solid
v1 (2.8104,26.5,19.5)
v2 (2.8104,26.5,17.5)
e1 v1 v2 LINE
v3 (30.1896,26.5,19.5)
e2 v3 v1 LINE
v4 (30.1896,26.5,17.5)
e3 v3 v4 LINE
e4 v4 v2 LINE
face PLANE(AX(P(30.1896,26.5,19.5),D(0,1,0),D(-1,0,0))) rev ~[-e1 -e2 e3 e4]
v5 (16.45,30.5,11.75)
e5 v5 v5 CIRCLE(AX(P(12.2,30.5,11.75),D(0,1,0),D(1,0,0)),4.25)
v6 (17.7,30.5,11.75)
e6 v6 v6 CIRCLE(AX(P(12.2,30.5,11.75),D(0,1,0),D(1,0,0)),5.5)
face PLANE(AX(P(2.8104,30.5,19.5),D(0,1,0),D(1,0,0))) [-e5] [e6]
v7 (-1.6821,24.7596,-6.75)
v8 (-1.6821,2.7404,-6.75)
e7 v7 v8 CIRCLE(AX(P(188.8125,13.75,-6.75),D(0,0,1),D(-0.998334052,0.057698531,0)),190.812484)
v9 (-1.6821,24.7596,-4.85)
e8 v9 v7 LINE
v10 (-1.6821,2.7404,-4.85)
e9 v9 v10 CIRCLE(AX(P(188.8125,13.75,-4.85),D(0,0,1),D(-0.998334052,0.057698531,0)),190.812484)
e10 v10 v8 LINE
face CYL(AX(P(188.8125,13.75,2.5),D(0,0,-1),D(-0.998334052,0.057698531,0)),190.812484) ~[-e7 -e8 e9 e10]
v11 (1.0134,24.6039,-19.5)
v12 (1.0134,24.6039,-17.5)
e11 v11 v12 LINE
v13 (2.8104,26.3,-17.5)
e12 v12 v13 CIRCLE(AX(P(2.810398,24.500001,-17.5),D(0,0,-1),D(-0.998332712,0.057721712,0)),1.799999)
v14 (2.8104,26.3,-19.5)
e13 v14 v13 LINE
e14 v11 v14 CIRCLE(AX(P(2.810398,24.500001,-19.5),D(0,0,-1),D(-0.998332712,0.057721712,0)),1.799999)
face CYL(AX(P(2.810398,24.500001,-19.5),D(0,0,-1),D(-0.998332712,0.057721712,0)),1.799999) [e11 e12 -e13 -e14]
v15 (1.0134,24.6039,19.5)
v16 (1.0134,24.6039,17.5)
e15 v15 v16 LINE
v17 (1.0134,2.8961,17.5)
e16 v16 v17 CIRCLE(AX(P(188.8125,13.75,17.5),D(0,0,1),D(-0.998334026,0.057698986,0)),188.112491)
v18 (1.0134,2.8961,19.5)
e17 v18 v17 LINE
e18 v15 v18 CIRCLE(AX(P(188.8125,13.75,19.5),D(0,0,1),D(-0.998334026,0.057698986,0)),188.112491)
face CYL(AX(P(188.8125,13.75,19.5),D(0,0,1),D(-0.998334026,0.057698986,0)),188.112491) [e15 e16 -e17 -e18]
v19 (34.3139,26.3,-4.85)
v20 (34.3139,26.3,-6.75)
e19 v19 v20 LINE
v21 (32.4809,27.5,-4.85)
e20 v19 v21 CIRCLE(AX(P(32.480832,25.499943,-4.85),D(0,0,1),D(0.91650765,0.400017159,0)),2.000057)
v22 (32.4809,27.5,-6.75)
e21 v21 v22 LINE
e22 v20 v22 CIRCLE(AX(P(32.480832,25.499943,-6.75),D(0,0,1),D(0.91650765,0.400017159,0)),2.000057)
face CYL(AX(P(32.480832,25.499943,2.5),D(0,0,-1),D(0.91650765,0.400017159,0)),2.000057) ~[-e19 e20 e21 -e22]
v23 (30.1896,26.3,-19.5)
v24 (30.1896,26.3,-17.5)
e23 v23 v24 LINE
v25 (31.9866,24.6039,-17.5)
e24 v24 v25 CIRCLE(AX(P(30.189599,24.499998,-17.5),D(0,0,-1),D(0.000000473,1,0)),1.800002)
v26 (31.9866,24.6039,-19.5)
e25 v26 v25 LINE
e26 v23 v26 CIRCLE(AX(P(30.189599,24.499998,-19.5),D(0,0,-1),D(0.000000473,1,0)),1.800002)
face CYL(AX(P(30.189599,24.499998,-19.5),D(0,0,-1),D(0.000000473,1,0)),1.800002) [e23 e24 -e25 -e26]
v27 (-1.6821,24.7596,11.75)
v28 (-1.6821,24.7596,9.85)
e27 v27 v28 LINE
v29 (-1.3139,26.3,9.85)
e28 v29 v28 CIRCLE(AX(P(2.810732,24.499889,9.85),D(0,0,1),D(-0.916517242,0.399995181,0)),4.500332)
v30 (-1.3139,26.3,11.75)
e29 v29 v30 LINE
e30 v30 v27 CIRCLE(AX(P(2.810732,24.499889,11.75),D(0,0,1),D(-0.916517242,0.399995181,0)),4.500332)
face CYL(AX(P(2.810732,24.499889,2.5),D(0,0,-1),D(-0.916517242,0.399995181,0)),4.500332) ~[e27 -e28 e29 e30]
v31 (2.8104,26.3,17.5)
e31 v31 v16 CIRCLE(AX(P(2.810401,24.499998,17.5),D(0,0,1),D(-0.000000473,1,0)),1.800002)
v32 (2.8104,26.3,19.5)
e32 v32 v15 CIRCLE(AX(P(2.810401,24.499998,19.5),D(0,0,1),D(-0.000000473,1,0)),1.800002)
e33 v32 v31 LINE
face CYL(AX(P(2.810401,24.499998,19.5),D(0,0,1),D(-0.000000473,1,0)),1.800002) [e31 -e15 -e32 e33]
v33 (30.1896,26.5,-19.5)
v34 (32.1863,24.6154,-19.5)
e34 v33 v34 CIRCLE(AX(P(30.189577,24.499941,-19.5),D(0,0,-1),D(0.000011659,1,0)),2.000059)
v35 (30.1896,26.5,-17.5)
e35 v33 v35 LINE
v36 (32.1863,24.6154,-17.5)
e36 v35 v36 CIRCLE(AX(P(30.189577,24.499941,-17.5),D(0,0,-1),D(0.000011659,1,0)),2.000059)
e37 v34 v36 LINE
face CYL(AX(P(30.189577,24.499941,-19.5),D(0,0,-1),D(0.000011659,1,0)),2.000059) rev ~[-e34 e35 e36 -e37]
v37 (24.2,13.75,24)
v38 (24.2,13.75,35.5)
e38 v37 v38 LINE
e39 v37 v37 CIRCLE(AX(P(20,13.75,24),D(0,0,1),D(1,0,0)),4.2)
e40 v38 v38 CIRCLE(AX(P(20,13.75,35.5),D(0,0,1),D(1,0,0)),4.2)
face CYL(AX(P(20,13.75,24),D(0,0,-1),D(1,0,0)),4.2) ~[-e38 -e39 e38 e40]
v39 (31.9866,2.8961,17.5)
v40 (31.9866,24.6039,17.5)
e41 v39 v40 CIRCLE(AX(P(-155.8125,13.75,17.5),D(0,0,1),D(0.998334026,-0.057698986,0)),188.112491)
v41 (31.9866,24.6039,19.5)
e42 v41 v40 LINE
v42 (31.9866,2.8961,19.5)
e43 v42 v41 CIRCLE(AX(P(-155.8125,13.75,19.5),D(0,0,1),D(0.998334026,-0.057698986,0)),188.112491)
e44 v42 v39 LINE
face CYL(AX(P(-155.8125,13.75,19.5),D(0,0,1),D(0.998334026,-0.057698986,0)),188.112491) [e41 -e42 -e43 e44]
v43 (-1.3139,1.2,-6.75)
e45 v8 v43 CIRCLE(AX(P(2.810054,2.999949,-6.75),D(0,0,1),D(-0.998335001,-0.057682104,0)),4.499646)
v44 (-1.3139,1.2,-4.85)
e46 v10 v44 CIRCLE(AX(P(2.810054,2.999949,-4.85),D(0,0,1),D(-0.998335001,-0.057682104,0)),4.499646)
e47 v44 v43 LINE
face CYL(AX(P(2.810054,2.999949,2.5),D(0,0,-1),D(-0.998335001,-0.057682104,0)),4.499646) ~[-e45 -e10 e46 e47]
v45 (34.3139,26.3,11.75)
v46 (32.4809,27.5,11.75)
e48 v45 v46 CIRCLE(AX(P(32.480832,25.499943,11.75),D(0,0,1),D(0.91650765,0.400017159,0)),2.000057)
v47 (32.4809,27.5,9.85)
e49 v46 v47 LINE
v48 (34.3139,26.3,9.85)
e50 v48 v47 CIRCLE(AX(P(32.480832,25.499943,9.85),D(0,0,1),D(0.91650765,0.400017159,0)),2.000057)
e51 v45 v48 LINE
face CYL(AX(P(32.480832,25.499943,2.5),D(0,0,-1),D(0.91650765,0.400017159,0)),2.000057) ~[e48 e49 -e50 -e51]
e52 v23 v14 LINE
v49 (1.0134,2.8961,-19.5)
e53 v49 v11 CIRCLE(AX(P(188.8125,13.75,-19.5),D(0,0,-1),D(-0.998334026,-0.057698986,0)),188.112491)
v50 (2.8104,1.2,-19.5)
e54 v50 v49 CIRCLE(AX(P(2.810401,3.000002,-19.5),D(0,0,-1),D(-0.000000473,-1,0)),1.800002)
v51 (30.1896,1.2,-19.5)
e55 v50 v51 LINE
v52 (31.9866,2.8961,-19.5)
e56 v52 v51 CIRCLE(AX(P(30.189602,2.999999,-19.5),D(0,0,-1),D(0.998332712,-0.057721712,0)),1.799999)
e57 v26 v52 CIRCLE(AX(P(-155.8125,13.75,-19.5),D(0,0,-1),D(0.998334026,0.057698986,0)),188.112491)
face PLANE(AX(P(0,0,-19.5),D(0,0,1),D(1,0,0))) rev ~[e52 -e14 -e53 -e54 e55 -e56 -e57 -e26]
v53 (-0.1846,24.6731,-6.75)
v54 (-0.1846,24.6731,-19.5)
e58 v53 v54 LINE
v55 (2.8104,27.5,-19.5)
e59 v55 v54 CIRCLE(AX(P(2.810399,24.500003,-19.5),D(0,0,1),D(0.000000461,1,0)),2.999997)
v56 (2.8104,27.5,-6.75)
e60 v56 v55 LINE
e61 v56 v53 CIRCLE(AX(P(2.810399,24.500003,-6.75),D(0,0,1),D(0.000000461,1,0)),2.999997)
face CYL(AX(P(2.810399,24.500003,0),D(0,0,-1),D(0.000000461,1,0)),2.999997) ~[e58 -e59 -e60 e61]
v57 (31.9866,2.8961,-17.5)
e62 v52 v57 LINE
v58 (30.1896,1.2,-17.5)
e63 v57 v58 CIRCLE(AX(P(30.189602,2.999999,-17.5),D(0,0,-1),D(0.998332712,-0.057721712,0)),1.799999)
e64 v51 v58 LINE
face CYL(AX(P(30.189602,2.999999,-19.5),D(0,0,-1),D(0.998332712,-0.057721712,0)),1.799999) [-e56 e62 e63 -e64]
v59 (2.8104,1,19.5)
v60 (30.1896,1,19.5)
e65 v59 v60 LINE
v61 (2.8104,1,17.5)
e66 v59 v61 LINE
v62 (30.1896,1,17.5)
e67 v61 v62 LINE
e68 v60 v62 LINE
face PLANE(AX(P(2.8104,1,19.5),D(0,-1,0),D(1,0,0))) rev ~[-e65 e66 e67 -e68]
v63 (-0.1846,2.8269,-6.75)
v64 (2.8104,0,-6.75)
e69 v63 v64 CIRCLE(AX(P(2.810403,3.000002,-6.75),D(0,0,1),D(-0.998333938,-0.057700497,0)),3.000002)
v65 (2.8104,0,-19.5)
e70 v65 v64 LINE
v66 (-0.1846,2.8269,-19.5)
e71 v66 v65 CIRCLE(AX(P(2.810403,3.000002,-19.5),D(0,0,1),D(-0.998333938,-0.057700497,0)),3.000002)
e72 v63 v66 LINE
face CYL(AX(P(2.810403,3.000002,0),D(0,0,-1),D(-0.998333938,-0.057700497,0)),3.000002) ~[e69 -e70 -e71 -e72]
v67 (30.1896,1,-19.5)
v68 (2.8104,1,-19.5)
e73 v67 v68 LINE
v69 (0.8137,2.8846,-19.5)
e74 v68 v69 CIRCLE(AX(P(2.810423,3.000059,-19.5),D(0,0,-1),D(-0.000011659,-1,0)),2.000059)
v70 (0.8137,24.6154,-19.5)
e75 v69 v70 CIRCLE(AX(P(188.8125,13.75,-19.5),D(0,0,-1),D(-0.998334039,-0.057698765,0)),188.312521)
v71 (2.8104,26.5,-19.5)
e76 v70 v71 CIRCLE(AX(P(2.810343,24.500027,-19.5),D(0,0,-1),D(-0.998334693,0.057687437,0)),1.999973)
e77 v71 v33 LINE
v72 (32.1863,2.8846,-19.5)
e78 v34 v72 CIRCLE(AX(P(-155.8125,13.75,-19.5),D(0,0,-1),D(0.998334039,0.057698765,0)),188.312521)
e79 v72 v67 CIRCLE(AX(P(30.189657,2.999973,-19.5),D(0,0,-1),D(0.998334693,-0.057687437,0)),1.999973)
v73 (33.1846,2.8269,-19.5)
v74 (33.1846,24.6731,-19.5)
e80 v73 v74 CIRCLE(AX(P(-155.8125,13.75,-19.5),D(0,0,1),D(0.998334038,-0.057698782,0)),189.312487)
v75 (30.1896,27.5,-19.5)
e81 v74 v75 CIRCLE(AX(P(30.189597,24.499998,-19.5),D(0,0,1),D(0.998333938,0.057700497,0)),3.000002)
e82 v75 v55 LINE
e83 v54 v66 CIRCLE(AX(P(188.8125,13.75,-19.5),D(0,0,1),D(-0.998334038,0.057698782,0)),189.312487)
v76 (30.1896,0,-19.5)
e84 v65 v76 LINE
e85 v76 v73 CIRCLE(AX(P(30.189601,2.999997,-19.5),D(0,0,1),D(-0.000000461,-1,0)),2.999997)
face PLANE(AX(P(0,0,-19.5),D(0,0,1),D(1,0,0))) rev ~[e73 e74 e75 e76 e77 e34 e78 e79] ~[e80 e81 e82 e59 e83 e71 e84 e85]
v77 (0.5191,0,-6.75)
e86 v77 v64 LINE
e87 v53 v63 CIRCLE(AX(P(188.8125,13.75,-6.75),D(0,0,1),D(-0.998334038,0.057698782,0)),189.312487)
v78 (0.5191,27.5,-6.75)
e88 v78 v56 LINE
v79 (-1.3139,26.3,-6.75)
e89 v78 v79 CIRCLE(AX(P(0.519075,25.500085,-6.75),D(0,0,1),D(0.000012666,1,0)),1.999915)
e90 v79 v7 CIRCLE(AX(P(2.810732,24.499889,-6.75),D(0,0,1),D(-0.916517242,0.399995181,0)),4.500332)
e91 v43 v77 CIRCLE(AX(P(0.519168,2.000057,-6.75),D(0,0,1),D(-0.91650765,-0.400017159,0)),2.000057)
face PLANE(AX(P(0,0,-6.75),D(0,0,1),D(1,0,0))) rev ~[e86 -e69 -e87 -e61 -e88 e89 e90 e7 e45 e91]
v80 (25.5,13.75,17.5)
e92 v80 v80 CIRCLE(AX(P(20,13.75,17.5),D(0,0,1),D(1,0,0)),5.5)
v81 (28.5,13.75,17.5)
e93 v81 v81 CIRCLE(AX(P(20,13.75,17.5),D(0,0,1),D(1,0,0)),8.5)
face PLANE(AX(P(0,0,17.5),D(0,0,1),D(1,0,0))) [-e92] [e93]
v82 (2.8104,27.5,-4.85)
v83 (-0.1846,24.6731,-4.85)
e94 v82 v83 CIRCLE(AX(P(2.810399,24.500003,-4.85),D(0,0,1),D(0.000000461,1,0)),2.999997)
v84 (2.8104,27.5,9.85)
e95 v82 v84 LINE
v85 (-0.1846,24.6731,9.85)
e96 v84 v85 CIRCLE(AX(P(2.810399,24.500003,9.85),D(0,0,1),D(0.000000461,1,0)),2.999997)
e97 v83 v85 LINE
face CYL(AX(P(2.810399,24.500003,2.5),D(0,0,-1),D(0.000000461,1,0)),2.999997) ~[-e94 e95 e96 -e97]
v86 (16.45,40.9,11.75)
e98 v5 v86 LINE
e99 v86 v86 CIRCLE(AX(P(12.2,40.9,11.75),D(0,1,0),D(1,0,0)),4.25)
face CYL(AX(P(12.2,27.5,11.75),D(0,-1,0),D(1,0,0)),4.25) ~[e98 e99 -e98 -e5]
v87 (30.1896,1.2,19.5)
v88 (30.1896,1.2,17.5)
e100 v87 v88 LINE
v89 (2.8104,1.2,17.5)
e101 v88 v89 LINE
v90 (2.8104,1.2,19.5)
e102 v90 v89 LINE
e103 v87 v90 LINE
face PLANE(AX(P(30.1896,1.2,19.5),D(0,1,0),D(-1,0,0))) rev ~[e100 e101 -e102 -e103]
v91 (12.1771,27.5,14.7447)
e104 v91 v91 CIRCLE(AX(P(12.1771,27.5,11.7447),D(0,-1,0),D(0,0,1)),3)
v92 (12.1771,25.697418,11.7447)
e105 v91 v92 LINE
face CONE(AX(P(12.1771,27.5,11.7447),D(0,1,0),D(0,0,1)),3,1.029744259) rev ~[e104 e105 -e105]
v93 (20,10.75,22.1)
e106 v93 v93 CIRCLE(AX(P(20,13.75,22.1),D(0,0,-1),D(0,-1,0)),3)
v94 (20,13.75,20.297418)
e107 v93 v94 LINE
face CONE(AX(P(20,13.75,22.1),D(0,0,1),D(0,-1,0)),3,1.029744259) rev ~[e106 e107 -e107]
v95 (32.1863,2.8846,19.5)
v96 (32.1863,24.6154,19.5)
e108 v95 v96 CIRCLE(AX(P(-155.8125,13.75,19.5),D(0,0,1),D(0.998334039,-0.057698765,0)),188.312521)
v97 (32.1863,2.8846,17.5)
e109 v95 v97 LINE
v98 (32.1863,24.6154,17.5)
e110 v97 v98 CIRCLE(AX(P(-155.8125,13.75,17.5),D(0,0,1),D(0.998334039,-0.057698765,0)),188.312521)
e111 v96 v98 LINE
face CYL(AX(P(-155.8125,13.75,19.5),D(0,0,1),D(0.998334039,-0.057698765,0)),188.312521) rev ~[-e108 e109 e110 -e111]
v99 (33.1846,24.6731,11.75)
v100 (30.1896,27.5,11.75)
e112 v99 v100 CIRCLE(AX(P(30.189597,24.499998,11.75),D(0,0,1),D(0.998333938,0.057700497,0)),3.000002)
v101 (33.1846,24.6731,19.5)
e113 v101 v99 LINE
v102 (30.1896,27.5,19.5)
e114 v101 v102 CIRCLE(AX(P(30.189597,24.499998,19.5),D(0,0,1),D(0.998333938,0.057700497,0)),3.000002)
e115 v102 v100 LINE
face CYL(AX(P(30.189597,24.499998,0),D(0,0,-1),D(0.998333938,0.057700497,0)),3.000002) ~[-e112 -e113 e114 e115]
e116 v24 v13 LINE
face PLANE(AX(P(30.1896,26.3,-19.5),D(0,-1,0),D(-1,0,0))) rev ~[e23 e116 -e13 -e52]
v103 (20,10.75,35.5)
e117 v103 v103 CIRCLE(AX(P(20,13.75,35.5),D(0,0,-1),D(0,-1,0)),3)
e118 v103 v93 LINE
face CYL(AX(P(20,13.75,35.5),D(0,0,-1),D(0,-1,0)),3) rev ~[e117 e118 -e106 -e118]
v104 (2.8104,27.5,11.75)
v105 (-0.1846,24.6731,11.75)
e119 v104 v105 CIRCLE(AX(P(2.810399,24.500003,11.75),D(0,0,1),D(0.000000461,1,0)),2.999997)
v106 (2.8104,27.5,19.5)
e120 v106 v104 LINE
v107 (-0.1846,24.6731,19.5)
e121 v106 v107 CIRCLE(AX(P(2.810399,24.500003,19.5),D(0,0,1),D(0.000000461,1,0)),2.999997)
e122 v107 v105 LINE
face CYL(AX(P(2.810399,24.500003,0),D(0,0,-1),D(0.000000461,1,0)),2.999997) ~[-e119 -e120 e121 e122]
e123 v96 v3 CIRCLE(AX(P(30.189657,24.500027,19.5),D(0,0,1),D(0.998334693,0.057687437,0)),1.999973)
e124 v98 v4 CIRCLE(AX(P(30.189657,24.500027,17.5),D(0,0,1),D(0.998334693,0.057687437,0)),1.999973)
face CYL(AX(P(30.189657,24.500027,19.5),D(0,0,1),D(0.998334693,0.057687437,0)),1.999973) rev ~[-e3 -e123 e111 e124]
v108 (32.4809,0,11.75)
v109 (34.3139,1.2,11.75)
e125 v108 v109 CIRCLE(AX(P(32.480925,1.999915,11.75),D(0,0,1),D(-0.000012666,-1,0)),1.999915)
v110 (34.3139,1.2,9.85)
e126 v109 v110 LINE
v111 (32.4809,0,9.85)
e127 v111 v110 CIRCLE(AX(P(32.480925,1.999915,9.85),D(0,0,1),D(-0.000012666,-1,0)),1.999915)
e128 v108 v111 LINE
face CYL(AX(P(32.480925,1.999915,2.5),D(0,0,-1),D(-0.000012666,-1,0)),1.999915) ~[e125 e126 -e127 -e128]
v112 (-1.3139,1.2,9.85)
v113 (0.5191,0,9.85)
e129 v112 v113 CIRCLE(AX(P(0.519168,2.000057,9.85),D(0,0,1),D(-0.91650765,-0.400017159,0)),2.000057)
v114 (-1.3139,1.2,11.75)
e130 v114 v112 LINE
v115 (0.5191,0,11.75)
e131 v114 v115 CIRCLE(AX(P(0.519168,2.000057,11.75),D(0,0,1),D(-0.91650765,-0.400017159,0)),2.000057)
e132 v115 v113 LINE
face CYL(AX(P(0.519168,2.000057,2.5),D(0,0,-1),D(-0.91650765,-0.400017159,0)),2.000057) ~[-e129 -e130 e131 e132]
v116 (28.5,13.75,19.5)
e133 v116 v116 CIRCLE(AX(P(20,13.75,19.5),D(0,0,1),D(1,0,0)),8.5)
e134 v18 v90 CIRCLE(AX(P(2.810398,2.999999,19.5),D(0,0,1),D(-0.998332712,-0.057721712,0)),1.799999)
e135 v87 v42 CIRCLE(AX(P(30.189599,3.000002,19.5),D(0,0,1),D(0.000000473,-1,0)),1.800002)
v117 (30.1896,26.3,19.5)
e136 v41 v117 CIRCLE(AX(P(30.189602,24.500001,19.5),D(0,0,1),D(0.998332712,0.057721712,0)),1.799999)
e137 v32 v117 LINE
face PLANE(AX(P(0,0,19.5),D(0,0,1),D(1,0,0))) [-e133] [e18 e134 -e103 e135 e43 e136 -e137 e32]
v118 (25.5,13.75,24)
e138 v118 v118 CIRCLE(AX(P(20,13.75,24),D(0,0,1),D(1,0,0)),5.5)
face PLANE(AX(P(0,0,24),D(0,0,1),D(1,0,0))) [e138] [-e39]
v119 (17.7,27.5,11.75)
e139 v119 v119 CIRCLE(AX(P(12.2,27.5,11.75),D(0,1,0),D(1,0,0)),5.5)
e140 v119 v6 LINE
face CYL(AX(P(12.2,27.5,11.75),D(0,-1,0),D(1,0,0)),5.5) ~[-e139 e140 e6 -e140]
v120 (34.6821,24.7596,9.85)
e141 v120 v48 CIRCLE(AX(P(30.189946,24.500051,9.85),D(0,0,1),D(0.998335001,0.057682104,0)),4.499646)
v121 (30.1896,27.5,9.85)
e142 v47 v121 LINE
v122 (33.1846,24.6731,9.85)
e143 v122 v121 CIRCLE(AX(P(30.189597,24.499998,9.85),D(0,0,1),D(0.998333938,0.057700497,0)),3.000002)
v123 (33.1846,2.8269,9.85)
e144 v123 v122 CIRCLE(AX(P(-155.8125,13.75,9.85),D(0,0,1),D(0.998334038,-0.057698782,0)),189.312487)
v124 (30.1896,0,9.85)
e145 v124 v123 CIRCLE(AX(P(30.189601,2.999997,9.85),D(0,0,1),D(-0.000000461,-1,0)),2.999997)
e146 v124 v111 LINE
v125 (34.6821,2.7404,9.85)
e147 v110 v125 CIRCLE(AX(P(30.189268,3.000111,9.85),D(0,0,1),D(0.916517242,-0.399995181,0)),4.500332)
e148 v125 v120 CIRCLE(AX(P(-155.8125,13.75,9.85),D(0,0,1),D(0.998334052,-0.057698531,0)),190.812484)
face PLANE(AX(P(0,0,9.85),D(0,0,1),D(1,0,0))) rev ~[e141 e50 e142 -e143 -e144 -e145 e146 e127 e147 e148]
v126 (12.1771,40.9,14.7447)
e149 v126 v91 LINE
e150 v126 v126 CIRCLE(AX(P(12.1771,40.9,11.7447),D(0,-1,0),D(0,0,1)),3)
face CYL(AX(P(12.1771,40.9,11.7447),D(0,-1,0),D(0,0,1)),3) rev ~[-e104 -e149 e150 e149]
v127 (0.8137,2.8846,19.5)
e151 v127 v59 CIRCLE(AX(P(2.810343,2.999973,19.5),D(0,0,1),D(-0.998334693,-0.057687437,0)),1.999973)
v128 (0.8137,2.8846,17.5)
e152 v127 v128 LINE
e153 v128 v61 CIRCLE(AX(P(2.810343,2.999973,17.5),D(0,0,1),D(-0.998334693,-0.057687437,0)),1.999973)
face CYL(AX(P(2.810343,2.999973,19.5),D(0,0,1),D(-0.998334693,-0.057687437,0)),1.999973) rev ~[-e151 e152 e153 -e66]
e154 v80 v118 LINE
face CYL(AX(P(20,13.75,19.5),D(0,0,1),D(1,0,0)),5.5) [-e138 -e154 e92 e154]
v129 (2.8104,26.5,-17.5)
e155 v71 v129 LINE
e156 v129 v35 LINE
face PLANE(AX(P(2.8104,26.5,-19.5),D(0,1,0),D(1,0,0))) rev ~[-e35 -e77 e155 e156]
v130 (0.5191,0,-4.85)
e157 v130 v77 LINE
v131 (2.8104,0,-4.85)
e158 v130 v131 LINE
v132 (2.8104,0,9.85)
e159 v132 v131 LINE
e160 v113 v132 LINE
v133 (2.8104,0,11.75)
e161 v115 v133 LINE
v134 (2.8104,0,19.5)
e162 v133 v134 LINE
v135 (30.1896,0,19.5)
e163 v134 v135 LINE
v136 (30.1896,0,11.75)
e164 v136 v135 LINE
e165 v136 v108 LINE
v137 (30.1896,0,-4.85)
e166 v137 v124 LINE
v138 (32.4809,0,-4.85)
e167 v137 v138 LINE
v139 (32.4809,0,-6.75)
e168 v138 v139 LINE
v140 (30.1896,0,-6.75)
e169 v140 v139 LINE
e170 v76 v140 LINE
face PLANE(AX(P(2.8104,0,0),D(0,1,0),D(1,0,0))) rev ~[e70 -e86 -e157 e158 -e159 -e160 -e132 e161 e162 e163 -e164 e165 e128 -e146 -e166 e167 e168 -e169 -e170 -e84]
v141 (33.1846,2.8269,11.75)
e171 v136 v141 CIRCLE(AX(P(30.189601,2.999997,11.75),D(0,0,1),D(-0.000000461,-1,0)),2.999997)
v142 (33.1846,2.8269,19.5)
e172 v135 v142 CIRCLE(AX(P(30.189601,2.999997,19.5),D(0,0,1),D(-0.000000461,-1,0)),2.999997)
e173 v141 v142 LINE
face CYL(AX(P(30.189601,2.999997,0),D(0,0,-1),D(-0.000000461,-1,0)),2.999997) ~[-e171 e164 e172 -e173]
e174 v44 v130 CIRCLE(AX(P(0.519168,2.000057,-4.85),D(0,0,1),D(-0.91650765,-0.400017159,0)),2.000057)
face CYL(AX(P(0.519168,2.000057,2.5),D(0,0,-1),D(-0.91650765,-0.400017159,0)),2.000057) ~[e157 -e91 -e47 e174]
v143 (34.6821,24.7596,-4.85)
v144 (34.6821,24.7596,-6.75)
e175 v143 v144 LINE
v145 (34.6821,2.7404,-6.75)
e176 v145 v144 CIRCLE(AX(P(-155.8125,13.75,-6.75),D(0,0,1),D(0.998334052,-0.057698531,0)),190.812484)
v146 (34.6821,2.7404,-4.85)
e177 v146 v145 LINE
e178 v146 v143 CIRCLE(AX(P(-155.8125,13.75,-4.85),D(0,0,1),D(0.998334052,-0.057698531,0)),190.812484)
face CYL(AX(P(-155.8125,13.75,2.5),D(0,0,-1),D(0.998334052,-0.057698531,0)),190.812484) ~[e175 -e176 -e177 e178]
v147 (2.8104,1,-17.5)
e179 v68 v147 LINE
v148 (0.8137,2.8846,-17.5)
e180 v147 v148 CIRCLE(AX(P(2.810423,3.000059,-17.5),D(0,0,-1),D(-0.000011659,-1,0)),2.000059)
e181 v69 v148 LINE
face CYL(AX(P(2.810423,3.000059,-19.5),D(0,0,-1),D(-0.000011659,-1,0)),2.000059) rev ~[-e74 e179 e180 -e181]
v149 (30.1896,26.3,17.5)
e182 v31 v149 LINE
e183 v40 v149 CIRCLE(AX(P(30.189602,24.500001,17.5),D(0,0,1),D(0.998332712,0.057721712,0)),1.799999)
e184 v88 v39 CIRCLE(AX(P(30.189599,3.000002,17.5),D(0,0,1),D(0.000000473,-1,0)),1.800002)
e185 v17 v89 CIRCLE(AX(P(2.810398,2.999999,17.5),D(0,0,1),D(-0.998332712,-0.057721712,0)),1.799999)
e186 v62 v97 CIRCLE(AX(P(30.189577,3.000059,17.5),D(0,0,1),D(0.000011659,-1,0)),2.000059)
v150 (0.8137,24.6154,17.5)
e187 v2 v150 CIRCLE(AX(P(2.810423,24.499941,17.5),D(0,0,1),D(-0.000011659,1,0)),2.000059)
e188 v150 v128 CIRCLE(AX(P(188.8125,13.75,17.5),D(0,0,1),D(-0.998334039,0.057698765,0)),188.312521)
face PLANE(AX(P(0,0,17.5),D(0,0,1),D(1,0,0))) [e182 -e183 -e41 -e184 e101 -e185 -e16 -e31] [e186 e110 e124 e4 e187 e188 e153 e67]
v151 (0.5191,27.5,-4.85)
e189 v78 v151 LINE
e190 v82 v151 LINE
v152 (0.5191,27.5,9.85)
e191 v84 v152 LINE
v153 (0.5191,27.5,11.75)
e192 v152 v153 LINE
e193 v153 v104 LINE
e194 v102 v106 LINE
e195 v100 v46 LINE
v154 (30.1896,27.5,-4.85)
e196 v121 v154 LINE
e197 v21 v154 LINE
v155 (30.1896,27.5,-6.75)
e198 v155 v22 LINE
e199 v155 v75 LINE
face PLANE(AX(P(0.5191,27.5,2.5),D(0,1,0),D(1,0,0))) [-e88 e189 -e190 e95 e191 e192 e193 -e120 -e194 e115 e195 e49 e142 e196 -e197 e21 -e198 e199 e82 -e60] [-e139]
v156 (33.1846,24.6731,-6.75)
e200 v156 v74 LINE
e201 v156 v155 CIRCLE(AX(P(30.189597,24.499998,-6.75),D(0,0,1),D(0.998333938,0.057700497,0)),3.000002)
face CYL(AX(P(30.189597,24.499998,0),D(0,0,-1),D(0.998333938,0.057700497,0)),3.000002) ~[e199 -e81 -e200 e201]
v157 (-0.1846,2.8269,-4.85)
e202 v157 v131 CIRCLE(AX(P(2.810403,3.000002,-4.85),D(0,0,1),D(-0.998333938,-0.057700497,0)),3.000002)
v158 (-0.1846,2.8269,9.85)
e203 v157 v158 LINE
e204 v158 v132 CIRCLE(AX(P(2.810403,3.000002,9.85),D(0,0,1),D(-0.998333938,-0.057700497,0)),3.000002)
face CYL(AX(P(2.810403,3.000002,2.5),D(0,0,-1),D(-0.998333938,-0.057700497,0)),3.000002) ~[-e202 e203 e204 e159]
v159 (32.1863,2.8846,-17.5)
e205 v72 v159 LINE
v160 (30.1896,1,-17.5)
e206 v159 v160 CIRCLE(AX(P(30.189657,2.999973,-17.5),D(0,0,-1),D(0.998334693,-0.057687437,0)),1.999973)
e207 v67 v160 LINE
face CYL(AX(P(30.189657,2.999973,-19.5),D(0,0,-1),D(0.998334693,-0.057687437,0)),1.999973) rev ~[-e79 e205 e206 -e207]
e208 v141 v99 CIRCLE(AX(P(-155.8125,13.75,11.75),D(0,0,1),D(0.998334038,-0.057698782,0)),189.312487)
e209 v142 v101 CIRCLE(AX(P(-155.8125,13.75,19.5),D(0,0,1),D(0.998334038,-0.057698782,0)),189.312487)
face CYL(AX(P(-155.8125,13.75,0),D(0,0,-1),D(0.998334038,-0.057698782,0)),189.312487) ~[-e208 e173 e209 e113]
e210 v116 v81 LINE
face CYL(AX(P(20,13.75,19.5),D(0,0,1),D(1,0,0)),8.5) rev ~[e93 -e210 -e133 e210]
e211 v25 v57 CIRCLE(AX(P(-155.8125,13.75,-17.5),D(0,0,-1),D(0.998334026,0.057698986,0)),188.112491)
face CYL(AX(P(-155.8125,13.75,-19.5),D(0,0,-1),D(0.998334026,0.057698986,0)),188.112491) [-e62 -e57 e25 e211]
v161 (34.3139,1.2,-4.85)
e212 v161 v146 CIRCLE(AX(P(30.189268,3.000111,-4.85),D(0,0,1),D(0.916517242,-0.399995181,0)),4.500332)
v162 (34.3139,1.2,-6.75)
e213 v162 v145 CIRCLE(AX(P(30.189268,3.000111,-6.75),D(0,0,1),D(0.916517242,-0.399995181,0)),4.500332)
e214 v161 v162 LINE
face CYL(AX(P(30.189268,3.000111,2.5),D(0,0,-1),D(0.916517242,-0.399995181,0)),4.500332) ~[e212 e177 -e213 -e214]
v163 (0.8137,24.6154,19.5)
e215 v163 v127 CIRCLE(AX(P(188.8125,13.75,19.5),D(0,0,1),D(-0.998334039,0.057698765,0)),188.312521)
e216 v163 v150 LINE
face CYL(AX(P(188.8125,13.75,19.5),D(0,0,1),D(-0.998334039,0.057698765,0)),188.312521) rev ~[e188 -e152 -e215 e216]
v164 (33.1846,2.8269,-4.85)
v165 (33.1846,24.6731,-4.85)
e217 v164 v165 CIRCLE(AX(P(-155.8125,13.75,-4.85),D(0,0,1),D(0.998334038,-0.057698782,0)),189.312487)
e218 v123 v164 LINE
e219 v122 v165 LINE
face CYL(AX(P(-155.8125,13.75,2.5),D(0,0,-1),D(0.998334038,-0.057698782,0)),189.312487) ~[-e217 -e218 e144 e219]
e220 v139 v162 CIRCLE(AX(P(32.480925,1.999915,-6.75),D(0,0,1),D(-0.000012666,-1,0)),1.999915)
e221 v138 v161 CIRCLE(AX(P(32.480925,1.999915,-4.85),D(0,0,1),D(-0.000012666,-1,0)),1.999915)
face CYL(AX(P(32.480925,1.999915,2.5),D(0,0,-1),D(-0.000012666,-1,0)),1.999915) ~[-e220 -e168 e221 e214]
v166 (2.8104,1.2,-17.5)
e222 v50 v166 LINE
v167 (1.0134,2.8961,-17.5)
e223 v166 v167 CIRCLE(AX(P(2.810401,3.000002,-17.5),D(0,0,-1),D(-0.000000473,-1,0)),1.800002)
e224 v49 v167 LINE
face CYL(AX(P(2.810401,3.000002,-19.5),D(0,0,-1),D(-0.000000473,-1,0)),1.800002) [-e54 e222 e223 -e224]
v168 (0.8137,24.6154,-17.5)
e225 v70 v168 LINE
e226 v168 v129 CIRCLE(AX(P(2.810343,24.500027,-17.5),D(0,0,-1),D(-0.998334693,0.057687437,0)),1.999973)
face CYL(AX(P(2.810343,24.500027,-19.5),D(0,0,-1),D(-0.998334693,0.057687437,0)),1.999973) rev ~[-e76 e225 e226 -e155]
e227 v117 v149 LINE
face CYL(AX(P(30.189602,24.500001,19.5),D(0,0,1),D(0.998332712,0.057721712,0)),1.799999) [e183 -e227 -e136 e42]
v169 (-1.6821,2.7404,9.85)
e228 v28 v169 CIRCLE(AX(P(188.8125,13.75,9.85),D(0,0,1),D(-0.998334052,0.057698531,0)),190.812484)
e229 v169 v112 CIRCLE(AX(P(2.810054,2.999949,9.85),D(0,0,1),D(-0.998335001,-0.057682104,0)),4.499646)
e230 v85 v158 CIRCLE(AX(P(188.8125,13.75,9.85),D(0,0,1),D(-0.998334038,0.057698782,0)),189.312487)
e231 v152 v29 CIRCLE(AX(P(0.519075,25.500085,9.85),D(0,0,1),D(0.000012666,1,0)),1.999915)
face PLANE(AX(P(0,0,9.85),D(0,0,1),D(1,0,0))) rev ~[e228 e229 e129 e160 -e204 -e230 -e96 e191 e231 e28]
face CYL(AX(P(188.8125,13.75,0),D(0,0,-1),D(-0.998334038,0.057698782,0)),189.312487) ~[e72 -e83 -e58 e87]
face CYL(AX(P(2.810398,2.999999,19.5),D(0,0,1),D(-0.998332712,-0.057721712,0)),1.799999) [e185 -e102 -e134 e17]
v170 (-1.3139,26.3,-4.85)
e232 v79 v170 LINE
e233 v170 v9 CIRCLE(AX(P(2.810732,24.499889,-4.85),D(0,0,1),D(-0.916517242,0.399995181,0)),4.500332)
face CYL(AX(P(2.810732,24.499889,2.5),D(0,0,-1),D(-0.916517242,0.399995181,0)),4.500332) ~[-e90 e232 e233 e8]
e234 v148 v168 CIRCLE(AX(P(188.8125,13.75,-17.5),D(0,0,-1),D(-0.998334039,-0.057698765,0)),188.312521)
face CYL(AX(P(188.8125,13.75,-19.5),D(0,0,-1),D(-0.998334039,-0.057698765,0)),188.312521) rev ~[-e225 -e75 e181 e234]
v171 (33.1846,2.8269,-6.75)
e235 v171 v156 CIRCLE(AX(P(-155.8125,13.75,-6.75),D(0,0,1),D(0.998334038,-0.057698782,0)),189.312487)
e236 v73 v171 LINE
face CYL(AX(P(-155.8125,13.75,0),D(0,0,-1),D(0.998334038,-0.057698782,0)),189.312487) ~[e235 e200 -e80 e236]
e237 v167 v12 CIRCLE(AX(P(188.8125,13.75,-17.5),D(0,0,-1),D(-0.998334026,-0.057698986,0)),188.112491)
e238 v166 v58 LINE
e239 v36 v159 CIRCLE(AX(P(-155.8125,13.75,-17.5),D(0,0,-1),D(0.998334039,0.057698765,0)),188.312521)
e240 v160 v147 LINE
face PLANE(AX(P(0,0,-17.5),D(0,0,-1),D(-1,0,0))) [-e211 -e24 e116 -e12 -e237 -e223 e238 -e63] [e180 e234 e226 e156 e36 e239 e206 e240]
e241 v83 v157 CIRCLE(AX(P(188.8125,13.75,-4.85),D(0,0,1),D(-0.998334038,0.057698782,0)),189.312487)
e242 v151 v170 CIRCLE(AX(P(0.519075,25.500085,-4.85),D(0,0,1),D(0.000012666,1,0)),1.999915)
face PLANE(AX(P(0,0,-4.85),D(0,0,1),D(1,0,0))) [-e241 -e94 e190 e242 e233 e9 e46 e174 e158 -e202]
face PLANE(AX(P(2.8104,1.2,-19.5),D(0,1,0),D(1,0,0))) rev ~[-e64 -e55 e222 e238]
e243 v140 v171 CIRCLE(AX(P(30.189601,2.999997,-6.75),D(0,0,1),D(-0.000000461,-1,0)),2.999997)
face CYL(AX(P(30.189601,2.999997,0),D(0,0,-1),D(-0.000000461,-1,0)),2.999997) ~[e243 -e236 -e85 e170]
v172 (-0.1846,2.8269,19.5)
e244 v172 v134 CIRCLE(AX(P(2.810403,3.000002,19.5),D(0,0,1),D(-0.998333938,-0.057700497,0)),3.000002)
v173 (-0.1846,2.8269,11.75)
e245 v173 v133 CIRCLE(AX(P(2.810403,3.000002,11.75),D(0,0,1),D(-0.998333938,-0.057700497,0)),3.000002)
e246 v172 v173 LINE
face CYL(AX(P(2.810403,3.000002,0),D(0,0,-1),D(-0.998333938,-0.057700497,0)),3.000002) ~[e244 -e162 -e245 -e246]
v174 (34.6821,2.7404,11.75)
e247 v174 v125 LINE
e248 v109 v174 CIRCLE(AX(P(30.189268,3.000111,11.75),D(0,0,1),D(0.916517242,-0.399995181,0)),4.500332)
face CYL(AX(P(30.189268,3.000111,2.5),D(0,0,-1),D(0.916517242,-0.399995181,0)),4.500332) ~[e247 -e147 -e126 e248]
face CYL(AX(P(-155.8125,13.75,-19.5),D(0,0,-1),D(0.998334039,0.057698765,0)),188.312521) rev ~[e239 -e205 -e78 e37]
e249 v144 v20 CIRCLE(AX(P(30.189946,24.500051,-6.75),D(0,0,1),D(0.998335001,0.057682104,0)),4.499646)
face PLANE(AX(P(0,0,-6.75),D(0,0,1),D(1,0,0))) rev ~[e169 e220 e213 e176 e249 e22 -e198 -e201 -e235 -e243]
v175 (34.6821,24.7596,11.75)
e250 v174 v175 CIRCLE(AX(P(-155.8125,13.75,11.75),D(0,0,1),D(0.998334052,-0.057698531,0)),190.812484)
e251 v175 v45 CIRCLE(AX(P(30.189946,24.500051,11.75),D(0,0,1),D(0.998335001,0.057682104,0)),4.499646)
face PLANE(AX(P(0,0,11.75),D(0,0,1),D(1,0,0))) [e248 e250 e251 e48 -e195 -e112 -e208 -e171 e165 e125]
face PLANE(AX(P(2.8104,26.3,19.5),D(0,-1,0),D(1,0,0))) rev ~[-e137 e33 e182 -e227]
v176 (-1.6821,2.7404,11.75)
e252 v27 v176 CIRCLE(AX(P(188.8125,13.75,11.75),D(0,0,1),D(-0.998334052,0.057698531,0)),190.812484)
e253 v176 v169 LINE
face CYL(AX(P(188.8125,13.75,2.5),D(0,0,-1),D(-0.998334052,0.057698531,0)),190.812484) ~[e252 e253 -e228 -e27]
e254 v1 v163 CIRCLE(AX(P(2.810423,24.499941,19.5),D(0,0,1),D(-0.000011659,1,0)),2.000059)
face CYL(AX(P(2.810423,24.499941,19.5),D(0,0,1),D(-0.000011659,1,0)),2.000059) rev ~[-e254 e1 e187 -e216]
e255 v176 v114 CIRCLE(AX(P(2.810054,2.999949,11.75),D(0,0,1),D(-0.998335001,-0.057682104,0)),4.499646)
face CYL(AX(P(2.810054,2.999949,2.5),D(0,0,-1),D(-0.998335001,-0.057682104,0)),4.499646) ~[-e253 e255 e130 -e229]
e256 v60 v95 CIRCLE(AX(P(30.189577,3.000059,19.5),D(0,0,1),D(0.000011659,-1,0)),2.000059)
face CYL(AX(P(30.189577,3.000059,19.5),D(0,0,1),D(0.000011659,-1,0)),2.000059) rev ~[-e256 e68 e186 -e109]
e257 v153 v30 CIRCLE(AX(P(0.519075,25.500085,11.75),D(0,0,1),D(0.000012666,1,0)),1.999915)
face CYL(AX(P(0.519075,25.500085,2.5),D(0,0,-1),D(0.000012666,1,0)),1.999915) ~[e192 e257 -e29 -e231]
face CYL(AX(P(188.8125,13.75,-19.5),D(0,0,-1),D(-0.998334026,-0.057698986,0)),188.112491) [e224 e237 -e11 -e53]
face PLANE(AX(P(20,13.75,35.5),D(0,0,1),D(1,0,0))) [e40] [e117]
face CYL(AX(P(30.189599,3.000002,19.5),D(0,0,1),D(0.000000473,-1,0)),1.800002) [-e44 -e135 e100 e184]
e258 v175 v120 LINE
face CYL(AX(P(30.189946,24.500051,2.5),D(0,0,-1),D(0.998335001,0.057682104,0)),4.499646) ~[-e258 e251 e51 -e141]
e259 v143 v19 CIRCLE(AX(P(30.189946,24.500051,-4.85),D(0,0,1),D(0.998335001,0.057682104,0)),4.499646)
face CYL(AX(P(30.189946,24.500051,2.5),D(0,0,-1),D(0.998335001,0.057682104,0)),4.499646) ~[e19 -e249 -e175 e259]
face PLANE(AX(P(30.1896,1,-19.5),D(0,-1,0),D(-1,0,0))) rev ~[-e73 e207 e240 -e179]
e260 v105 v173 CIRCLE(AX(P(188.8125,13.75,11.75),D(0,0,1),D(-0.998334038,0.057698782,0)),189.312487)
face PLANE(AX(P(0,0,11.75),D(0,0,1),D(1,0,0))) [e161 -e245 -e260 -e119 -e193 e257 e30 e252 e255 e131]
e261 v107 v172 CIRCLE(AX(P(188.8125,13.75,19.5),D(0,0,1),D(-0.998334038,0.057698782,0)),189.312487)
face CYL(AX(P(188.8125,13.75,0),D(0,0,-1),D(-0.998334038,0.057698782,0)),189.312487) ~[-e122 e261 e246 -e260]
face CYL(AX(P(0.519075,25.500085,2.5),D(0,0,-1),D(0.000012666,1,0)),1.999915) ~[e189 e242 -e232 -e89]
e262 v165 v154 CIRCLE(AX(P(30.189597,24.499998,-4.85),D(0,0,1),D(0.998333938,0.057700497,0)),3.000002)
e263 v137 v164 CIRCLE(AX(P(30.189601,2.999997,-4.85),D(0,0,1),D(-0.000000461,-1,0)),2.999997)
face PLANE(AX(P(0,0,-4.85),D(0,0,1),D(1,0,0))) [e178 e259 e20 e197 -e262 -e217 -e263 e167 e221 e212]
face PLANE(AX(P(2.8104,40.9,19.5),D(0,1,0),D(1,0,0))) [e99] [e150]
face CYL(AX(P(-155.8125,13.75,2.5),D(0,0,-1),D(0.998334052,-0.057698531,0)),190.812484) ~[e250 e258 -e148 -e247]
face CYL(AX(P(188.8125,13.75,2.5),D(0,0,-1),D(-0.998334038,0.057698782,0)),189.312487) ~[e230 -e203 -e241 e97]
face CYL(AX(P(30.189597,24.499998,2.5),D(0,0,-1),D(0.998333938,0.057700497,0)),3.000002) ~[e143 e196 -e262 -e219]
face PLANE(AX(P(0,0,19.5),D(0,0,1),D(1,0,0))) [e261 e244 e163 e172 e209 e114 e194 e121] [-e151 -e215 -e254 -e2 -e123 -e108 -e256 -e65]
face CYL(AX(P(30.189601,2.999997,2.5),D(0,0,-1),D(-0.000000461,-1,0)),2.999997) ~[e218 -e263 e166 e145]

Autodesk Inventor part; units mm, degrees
ref_plane "YZ Plane" through (0, 0, 0) normal (1, 0, 0) x (0, 1, 0)
ref_plane "XZ Plane" through (0, 0, 0) normal (0, 1, 0) x (-1, 0, 0)
sketch "Sketch1" plane through (0, 0, 0) normal (0, 0, 1) x (1, 0, 0)
  line L0 (2.8104, 0) -> (30.1896, 0)
  line L1 (33, 0) -> (33, 27.5) construction
  line L2 (30.1896, 27.5) -> (2.8104, 27.5)
  line L3 (0, 27.5) -> (0, 0) construction
  line L4 (-0.5, 13.75) -> (33.5, 13.75) construction
  arc A0 (-0.1846, 24.6731) -> (-0.1846, 2.8269) centre (188.8125, 13.75) ccw
  arc A1 (33.1846, 2.8269) -> (33.1846, 24.6731) centre (-155.8125, 13.75) ccw
  arc A2 (2.8104, 27.5) -> (-0.1846, 24.6731) centre (2.8104, 24.5) ccw
  arc A3 (33.1846, 24.6731) -> (30.1896, 27.5) centre (30.1896, 24.5) ccw
  arc A4 (-0.1846, 2.8269) -> (2.8104, 0) centre (2.8104, 3) ccw
  arc A5 (30.1896, 0) -> (33.1846, 2.8269) centre (30.1896, 3) ccw
  dimension "d0" = 33
  dimension "d1" = 27.5
  dimension "d2" = 0.5
  dimension "d3" = 0.5
  dimension "d4" = 3
extrude "Extrusion1" add sketch "Sketch1" along normal mid plane 39
ref_plane "Work Plane1" through (0, 0, 2.5) normal (0, 0, 1) x (1, 0, 0)
sketch "Sketch2" plane through (0, 0, 2.5) normal (0, 0, 1) x (1, 0, 0)
  arc A0 (2.8104, 27.5) -> (-0.1846, 24.6731) centre (2.8104, 24.5) ccw projected
  arc A1 (-0.1846, 24.6731) -> (-0.1846, 2.8269) centre (188.8125, 13.75) ccw projected
  arc A2 (-0.1846, 2.8269) -> (2.8104, 0) centre (2.8104, 3) ccw projected
  line L0 (2.8104, 0) -> (30.1896, 0) projected
  arc A3 (30.1896, 0) -> (33.1846, 2.8269) centre (30.1896, 3) ccw projected
  arc A4 (33.1846, 2.8269) -> (33.1846, 24.6731) centre (-155.8125, 13.75) ccw projected
  arc A5 (33.1846, 24.6731) -> (30.1896, 27.5) centre (30.1896, 24.5) ccw projected
  line L1 (30.1896, 27.5) -> (2.8104, 27.5) projected
  arc A6 (-0.1846, 24.6731) -> (-0.1846, 2.8269) centre (188.8125, 13.75) ccw projected
  line L2 (-0.5, 13.75) -> (33.5, 13.75) construction
  arc A7 (-1.3139, 26.3) -> (-1.6821, 24.7596) centre (2.8104, 24.5) ccw
  arc A8 (34.6821, 24.7596) -> (34.3139, 26.3) centre (30.1896, 24.5) ccw
  arc A9 (34.6821, 2.7404) -> (34.6821, 24.7596) centre (-155.8125, 13.75) ccw
  arc A10 (34.3139, 1.2) -> (34.6821, 2.7404) centre (30.1896, 3) ccw
  arc A11 (-1.6821, 2.7404) -> (-1.3139, 1.2) centre (2.8104, 3) ccw
  line L3 (0.5191, 27.5) -> (32.4809, 27.5)
  line L4 (0.5191, 0) -> (32.4809, 0)
  arc A12 (-1.6821, 24.7596) -> (-1.6821, 2.7404) centre (188.8125, 13.75) ccw
  arc A13 (34.3139, 26.3) -> (32.4809, 27.5) centre (32.4809, 25.5) ccw
  arc A14 (0.5191, 27.5) -> (-1.3139, 26.3) centre (0.5191, 25.5) ccw
  arc A15 (-1.3139, 1.2) -> (0.5191, 0) centre (0.5191, 2) ccw
  arc A16 (32.4809, 0) -> (34.3139, 1.2) centre (32.4809, 2) ccw
  point P0 (0, 0)
  point P1 (33.5437, 27.5)
  point P2 (33.5437, 0)
  point P3 (-0.5437, 0)
  point P4 (-0.5437, 27.5)
  dimension "d9" = 1.5
  dimension "d10" = 2
  dimension "d11" = 2
  dimension "d12" = 2
  dimension "d13" = 2
extrude "Extrusion2" add sketch "Sketch2" along normal mid plane 18.5 contours A0 A1 A2 L4 A15 A11 A12 A7 A14 L3 | L3 A13 A8 A9 A10 A16 L4 A3 A4 A5
sketch "Sketch3" plane through (0, 0, 2.5) normal (0, 0, 1) x (1, 0, 0)
  arc A0 (-0.1846, 2.8269) -> (2.8104, 0) centre (2.8104, 3) ccw projected
  arc A1 (-0.1846, 24.6731) -> (-0.1846, 2.8269) centre (188.8125, 13.75) ccw projected
  arc A2 (2.8104, 27.5) -> (-0.1846, 24.6731) centre (2.8104, 24.5) ccw projected
  line L0 (2.8104, 27.5) -> (0.5191, 27.5) projected
  arc A3 (0.5191, 27.5) -> (-1.3139, 26.3) centre (0.5191, 25.5) ccw projected
  arc A4 (-1.3139, 26.3) -> (-1.6821, 24.7596) centre (2.8104, 24.5) ccw projected
  arc A5 (-1.6821, 24.7596) -> (-1.6821, 2.7404) centre (188.8125, 13.75) ccw projected
  arc A6 (-1.6821, 2.7404) -> (-1.3139, 1.2) centre (2.8104, 3) ccw projected
  arc A7 (-1.3139, 1.2) -> (0.5191, 0) centre (0.5191, 2) ccw projected
  line L1 (0.5191, 0) -> (2.8104, 0) projected
  arc A8 (30.1896, 0) -> (33.1846, 2.8269) centre (30.1896, 3) ccw projected
  line L2 (30.1896, 0) -> (32.4809, 0) projected
  arc A9 (32.4809, 0) -> (34.3139, 1.2) centre (32.4809, 2) ccw projected
  arc A10 (34.3139, 1.2) -> (34.6821, 2.7404) centre (30.1896, 3) ccw projected
  arc A11 (34.6821, 2.7404) -> (34.6821, 24.7596) centre (-155.8125, 13.75) ccw projected
  arc A12 (34.6821, 24.7596) -> (34.3139, 26.3) centre (30.1896, 24.5) ccw projected
  arc A13 (34.3139, 26.3) -> (32.4809, 27.5) centre (32.4809, 25.5) ccw projected
  line L3 (32.4809, 27.5) -> (30.1896, 27.5) projected
  arc A14 (33.1846, 24.6731) -> (30.1896, 27.5) centre (30.1896, 24.5) ccw projected
  arc A15 (33.1846, 2.8269) -> (33.1846, 24.6731) centre (-155.8125, 13.75) ccw projected
  point P0 (0, 0)
extrude "Extrusion3" cut sketch "Sketch3" along normal mid plane 14.7
sketch "Sketch4" plane through (2.8104, 0, -19.5) normal (0, -1, 0) x (1, 0, 0)
  line L0 (27.3792, 39) -> (0, 39) construction
  line L1 (13.6896, 39) -> (13.6896, 22) construction
  line L2 (13.6896, 22) -> (-8.8104, 22) construction
  line L3 (13.6896, 22) -> (36.1896, 22) construction
  line L4 (9.3896, 51.4625) -> (9.3896, -5.4859) construction
  line L5 (17.1896, 54.9508) -> (17.1896, -9.4609) construction
  line L6 (-8.8104, 31.25) -> (38.6008, 31.25) construction
  point P0 (-2.8104, 19.5)
  dimension "d18" = 17
  dimension "d19" = 22.5
  dimension "d20" = 22.5
  dimension "d21" = 26.8
  dimension "d22" = 7.8
sketch "Sketch5" plane through (2.8104, 27.5, 19.5) normal (0, 1, 0) x (1, 0, 0)
  line L0 (-8.8104, 7.75) -> (38.6008, 7.75) construction
  line L1 (13.6896, 17) -> (36.1896, 17) construction
  line L2 (17.1896, -15.9508) -> (17.1896, 48.4609) construction
  line L3 (9.3896, -12.4625) -> (9.3896, 44.4859) construction
  line L4 (13.6896, 17) -> (-8.8104, 17) construction
  circle A0 centre (9.3896, 7.75) radius 5.5
  circle A1 centre (9.3896, 7.75) radius 4.25
  point P0 (-2.8104, 19.5)
  dimension "d23" = 11
  dimension "d24" = 8.5
extrude "Extrusion4" add sketch "Sketch5" along normal blind 3
sketch "Sketch6" plane through (2.8104, 27.5, 19.5) normal (0, 1, 0) x (1, 0, 0)
  circle A0 centre (9.3896, 7.75) radius 4.25 projected
  point P0 (-2.8104, 19.5)
extrude "Extrusion5" add sketch "Sketch6" along normal blind 13.4
sketch "Sketch7" plane through (12.2, 40.9, 11.75) normal (0, 1, 0) x (1, 0, 0)
  point P0 (-12.2, 11.75)
  point P1 (-0.0229, 0.0053)
hole "Hole1" at (12.1771, 40.9, 11.7447) direction (0, -1, 0) diameter 6 depth 13.4 tip angle 118
sketch "Sketch8" plane through (0, 0, 19.5) normal (0, 0, 1) x (1, 0, 0)
  line L0 (16.45, 40.9) -> (7.95, 40.9) construction
  line L1 (7.95, 30.5) -> (16.45, 30.5) construction
  arc A0 (2.8104, 27.5) -> (-0.1846, 24.6731) centre (2.8104, 24.5) ccw construction
  arc A1 (-0.1846, 24.6731) -> (-0.1846, 2.8269) centre (188.8125, 13.75) ccw construction
  arc A2 (-0.1846, 2.8269) -> (2.8104, 0) centre (2.8104, 3) ccw construction
  line L2 (2.8104, 0) -> (30.1896, 0) construction
  arc A3 (30.1896, 0) -> (33.1846, 2.8269) centre (30.1896, 3) ccw construction
  arc A4 (33.1846, 2.8269) -> (33.1846, 24.6731) centre (-155.8125, 13.75) ccw construction
  arc A5 (33.1846, 24.6731) -> (30.1896, 27.5) centre (30.1896, 24.5) ccw construction
  line L3 (30.1896, 27.5) -> (2.8104, 27.5) construction
  line L4 (-10.3414, 13.75) -> (38.9041, 13.75) construction
  circle A6 centre (20, 13.75) radius 5.5
  line L5 (12.2, 42.7052) -> (12.2, 21.084) construction
  point P0 (0, 0)
  dimension "d36" = 11
  dimension "d37" = 7.8
extrude "Extrusion6" add sketch "Sketch8" along normal blind 4.5
sketch "Sketch9" plane through (20, 13.75, 24) normal (0, 0, 1) x (1, 0, 0)
  circle A0 centre (0, 0) radius 4.2
  point P0 (-20, -13.75)
  dimension "d40" = 8.4
extrude "Extrusion7" add sketch "Sketch9" along normal blind 11.5
sketch "Sketch10" plane through (20, 13.75, 35.5) normal (0, 0, 1) x (1, 0, 0)
  point P0 (-20, -13.75)
  point P1 (0, 0)
hole "Hole2" at (20, 13.75, 35.5) direction (0, 0, -1) diameter 6 depth 13.4 tip angle 118
sketch "Sketch11" plane through (0, 0, 19.5) normal (0, 0, 1) x (1, 0, 0)
  circle A0 centre (20, 13.75) radius 5.5 projected
  arc A1 (2.8104, 27.5) -> (-0.1846, 24.6731) centre (2.8104, 24.5) ccw projected
  arc A2 (-0.1846, 24.6731) -> (-0.1846, 2.8269) centre (188.8125, 13.75) ccw projected
  arc A3 (-0.1846, 2.8269) -> (2.8104, 0) centre (2.8104, 3) ccw projected
  line L0 (2.8104, 0) -> (30.1896, 0) projected
  arc A4 (30.1896, 0) -> (33.1846, 2.8269) centre (30.1896, 3) ccw projected
  arc A5 (33.1846, 2.8269) -> (33.1846, 24.6731) centre (-155.8125, 13.75) ccw projected
  arc A6 (33.1846, 24.6731) -> (30.1896, 27.5) centre (30.1896, 24.5) ccw projected
  line L1 (30.1896, 27.5) -> (2.8104, 27.5) projected
  arc A7 (2.8104, 26.5) -> (0.8137, 24.6154) centre (2.8104, 24.5) ccw
  arc A8 (0.8137, 24.6154) -> (0.8137, 2.8846) centre (188.8125, 13.75) ccw
  arc A9 (0.8137, 2.8846) -> (2.8104, 1) centre (2.8104, 3) ccw
  line L2 (2.8104, 1) -> (30.1896, 1)
  arc A10 (30.1896, 1) -> (32.1863, 2.8846) centre (30.1896, 3) ccw
  arc A11 (32.1863, 2.8846) -> (32.1863, 24.6154) centre (-155.8125, 13.75) ccw
  arc A12 (32.1863, 24.6154) -> (30.1896, 26.5) centre (30.1896, 24.5) ccw
  line L3 (30.1896, 26.5) -> (2.8104, 26.5)
  arc A13 (2.8104, 26.3) -> (1.0134, 24.6039) centre (2.8104, 24.5) ccw
  line L4 (2.8104, 26.3) -> (30.1896, 26.3)
  arc A14 (31.9866, 24.6039) -> (30.1896, 26.3) centre (30.1896, 24.5) ccw
  arc A15 (31.9866, 2.8961) -> (31.9866, 24.6039) centre (-155.8125, 13.75) ccw
  arc A16 (30.1896, 1.2) -> (31.9866, 2.8961) centre (30.1896, 3) ccw
  line L5 (30.1896, 1.2) -> (2.8104, 1.2)
  arc A17 (1.0134, 2.8961) -> (2.8104, 1.2) centre (2.8104, 3) ccw
  arc A18 (1.0134, 24.6039) -> (1.0134, 2.8961) centre (188.8125, 13.75) ccw
  line L6 (-3.7926, 13.75) -> (36.6452, 13.75) construction
  point P0 (0, 0)
  dimension "d50" = 1
  dimension "d51" = 0.2
extrude "Extrusion8" cut sketch "Sketch11" against normal blind 2 contours L3 A12 A11 A10 L2 A9 A8 A7
sketch "Sketch12" plane through (0, 0, -19.5) normal (0, 0, -1) x (-1, 0, 0)
  arc A0 (-1.0134, 2.8961) -> (-1.0134, 24.6039) centre (-188.8125, 13.75) ccw projected
  arc A1 (-2.8104, 1.2) -> (-1.0134, 2.8961) centre (-2.8104, 3) ccw projected
  line L0 (-2.8104, 1.2) -> (-30.1896, 1.2) projected
  arc A2 (-31.9866, 2.8961) -> (-30.1896, 1.2) centre (-30.1896, 3) ccw projected
  arc A3 (-31.9866, 24.6039) -> (-31.9866, 2.8961) centre (155.8125, 13.75) ccw projected
  arc A4 (-30.1896, 26.3) -> (-31.9866, 24.6039) centre (-30.1896, 24.5) ccw projected
  line L1 (-30.1896, 26.3) -> (-2.8104, 26.3) projected
  arc A5 (-1.0134, 24.6039) -> (-2.8104, 26.3) centre (-2.8104, 24.5) ccw projected
  circle A6 centre (-20, 13.75) radius 5.5 projected
  arc A7 (0.1846, 24.6731) -> (-2.8104, 27.5) centre (-2.8104, 24.5) ccw projected
  arc A8 (0.1846, 2.8269) -> (0.1846, 24.6731) centre (-188.8125, 13.75) ccw projected
  arc A9 (-2.8104, 0) -> (0.1846, 2.8269) centre (-2.8104, 3) ccw projected
  line L2 (-2.8104, 0) -> (-30.1896, 0) projected
  arc A10 (-33.1846, 2.8269) -> (-30.1896, 0) centre (-30.1896, 3) ccw projected
  arc A11 (-33.1846, 24.6731) -> (-33.1846, 2.8269) centre (155.8125, 13.75) ccw projected
  arc A12 (-30.1896, 27.5) -> (-33.1846, 24.6731) centre (-30.1896, 24.5) ccw projected
  line L3 (-30.1896, 27.5) -> (-2.8104, 27.5) projected
  arc A13 (-0.8137, 2.8846) -> (-0.8137, 24.6154) centre (-188.8125, 13.75) ccw projected
  arc A14 (-0.8137, 24.6154) -> (-2.8104, 26.5) centre (-2.8104, 24.5) ccw projected
  line L4 (-2.8104, 26.5) -> (-30.1896, 26.5) projected
  arc A15 (-30.1896, 26.5) -> (-32.1863, 24.6154) centre (-30.1896, 24.5) ccw projected
  arc A16 (-32.1863, 24.6154) -> (-32.1863, 2.8846) centre (155.8125, 13.75) ccw projected
  arc A17 (-32.1863, 2.8846) -> (-30.1896, 1) centre (-30.1896, 3) ccw projected
  line L5 (-30.1896, 1) -> (-2.8104, 1) projected
  arc A18 (-2.8104, 1) -> (-0.8137, 2.8846) centre (-2.8104, 3) ccw projected
  point P0 (0, 0)
extrude "Extrusion9" cut sketch "Sketch12" against normal blind 2 contours A18 L5 A17 A16 A15 L4 A14 A13
sketch "Sketch13" plane through (2.8104, 27.5, 19.5) normal (0, 1, 0) x (1, 0, 0)
  line L0 (23.9941, 18.8458) -> (2.9639, 18.8458) construction
  line L1 (2.9639, 18.8458) -> (2.9639, 31.9339) construction
  line L2 (2.9639, 31.9339) -> (23.9941, 31.9339) construction
  line L3 (23.9941, 31.9339) -> (23.9941, 18.8458) construction
  point P0 (-2.8104, 19.5)
decal "Decal1"
sketch "Sketch14" plane through (0, 0, 19.5) normal (0, 0, 1) x (1, 0, 0)
  arc A0 (1.0134, 24.6039) -> (1.0134, 2.8961) centre (188.8125, 13.75) ccw projected
  arc A1 (1.0134, 2.8961) -> (2.8104, 1.2) centre (2.8104, 3) ccw projected
  line L0 (2.8104, 1.2) -> (30.1896, 1.2) projected
  arc A2 (30.1896, 1.2) -> (31.9866, 2.8961) centre (30.1896, 3) ccw projected
  arc A3 (31.9866, 2.8961) -> (31.9866, 24.6039) centre (-155.8125, 13.75) ccw projected
  arc A4 (31.9866, 24.6039) -> (30.1896, 26.3) centre (30.1896, 24.5) ccw projected
  line L1 (30.1896, 26.3) -> (2.8104, 26.3) projected
  arc A5 (2.8104, 26.3) -> (1.0134, 24.6039) centre (2.8104, 24.5) ccw projected
  circle A6 centre (20, 13.75) radius 5.5 projected
  circle A7 centre (20, 13.75) radius 8.5
  point P0 (0, 0)
  dimension "d81" = 17
extrude "Extrusion10" cut sketch "Sketch14" against normal blind 2 contours A7
properties part number "AD20P-1230A DC Pump"
